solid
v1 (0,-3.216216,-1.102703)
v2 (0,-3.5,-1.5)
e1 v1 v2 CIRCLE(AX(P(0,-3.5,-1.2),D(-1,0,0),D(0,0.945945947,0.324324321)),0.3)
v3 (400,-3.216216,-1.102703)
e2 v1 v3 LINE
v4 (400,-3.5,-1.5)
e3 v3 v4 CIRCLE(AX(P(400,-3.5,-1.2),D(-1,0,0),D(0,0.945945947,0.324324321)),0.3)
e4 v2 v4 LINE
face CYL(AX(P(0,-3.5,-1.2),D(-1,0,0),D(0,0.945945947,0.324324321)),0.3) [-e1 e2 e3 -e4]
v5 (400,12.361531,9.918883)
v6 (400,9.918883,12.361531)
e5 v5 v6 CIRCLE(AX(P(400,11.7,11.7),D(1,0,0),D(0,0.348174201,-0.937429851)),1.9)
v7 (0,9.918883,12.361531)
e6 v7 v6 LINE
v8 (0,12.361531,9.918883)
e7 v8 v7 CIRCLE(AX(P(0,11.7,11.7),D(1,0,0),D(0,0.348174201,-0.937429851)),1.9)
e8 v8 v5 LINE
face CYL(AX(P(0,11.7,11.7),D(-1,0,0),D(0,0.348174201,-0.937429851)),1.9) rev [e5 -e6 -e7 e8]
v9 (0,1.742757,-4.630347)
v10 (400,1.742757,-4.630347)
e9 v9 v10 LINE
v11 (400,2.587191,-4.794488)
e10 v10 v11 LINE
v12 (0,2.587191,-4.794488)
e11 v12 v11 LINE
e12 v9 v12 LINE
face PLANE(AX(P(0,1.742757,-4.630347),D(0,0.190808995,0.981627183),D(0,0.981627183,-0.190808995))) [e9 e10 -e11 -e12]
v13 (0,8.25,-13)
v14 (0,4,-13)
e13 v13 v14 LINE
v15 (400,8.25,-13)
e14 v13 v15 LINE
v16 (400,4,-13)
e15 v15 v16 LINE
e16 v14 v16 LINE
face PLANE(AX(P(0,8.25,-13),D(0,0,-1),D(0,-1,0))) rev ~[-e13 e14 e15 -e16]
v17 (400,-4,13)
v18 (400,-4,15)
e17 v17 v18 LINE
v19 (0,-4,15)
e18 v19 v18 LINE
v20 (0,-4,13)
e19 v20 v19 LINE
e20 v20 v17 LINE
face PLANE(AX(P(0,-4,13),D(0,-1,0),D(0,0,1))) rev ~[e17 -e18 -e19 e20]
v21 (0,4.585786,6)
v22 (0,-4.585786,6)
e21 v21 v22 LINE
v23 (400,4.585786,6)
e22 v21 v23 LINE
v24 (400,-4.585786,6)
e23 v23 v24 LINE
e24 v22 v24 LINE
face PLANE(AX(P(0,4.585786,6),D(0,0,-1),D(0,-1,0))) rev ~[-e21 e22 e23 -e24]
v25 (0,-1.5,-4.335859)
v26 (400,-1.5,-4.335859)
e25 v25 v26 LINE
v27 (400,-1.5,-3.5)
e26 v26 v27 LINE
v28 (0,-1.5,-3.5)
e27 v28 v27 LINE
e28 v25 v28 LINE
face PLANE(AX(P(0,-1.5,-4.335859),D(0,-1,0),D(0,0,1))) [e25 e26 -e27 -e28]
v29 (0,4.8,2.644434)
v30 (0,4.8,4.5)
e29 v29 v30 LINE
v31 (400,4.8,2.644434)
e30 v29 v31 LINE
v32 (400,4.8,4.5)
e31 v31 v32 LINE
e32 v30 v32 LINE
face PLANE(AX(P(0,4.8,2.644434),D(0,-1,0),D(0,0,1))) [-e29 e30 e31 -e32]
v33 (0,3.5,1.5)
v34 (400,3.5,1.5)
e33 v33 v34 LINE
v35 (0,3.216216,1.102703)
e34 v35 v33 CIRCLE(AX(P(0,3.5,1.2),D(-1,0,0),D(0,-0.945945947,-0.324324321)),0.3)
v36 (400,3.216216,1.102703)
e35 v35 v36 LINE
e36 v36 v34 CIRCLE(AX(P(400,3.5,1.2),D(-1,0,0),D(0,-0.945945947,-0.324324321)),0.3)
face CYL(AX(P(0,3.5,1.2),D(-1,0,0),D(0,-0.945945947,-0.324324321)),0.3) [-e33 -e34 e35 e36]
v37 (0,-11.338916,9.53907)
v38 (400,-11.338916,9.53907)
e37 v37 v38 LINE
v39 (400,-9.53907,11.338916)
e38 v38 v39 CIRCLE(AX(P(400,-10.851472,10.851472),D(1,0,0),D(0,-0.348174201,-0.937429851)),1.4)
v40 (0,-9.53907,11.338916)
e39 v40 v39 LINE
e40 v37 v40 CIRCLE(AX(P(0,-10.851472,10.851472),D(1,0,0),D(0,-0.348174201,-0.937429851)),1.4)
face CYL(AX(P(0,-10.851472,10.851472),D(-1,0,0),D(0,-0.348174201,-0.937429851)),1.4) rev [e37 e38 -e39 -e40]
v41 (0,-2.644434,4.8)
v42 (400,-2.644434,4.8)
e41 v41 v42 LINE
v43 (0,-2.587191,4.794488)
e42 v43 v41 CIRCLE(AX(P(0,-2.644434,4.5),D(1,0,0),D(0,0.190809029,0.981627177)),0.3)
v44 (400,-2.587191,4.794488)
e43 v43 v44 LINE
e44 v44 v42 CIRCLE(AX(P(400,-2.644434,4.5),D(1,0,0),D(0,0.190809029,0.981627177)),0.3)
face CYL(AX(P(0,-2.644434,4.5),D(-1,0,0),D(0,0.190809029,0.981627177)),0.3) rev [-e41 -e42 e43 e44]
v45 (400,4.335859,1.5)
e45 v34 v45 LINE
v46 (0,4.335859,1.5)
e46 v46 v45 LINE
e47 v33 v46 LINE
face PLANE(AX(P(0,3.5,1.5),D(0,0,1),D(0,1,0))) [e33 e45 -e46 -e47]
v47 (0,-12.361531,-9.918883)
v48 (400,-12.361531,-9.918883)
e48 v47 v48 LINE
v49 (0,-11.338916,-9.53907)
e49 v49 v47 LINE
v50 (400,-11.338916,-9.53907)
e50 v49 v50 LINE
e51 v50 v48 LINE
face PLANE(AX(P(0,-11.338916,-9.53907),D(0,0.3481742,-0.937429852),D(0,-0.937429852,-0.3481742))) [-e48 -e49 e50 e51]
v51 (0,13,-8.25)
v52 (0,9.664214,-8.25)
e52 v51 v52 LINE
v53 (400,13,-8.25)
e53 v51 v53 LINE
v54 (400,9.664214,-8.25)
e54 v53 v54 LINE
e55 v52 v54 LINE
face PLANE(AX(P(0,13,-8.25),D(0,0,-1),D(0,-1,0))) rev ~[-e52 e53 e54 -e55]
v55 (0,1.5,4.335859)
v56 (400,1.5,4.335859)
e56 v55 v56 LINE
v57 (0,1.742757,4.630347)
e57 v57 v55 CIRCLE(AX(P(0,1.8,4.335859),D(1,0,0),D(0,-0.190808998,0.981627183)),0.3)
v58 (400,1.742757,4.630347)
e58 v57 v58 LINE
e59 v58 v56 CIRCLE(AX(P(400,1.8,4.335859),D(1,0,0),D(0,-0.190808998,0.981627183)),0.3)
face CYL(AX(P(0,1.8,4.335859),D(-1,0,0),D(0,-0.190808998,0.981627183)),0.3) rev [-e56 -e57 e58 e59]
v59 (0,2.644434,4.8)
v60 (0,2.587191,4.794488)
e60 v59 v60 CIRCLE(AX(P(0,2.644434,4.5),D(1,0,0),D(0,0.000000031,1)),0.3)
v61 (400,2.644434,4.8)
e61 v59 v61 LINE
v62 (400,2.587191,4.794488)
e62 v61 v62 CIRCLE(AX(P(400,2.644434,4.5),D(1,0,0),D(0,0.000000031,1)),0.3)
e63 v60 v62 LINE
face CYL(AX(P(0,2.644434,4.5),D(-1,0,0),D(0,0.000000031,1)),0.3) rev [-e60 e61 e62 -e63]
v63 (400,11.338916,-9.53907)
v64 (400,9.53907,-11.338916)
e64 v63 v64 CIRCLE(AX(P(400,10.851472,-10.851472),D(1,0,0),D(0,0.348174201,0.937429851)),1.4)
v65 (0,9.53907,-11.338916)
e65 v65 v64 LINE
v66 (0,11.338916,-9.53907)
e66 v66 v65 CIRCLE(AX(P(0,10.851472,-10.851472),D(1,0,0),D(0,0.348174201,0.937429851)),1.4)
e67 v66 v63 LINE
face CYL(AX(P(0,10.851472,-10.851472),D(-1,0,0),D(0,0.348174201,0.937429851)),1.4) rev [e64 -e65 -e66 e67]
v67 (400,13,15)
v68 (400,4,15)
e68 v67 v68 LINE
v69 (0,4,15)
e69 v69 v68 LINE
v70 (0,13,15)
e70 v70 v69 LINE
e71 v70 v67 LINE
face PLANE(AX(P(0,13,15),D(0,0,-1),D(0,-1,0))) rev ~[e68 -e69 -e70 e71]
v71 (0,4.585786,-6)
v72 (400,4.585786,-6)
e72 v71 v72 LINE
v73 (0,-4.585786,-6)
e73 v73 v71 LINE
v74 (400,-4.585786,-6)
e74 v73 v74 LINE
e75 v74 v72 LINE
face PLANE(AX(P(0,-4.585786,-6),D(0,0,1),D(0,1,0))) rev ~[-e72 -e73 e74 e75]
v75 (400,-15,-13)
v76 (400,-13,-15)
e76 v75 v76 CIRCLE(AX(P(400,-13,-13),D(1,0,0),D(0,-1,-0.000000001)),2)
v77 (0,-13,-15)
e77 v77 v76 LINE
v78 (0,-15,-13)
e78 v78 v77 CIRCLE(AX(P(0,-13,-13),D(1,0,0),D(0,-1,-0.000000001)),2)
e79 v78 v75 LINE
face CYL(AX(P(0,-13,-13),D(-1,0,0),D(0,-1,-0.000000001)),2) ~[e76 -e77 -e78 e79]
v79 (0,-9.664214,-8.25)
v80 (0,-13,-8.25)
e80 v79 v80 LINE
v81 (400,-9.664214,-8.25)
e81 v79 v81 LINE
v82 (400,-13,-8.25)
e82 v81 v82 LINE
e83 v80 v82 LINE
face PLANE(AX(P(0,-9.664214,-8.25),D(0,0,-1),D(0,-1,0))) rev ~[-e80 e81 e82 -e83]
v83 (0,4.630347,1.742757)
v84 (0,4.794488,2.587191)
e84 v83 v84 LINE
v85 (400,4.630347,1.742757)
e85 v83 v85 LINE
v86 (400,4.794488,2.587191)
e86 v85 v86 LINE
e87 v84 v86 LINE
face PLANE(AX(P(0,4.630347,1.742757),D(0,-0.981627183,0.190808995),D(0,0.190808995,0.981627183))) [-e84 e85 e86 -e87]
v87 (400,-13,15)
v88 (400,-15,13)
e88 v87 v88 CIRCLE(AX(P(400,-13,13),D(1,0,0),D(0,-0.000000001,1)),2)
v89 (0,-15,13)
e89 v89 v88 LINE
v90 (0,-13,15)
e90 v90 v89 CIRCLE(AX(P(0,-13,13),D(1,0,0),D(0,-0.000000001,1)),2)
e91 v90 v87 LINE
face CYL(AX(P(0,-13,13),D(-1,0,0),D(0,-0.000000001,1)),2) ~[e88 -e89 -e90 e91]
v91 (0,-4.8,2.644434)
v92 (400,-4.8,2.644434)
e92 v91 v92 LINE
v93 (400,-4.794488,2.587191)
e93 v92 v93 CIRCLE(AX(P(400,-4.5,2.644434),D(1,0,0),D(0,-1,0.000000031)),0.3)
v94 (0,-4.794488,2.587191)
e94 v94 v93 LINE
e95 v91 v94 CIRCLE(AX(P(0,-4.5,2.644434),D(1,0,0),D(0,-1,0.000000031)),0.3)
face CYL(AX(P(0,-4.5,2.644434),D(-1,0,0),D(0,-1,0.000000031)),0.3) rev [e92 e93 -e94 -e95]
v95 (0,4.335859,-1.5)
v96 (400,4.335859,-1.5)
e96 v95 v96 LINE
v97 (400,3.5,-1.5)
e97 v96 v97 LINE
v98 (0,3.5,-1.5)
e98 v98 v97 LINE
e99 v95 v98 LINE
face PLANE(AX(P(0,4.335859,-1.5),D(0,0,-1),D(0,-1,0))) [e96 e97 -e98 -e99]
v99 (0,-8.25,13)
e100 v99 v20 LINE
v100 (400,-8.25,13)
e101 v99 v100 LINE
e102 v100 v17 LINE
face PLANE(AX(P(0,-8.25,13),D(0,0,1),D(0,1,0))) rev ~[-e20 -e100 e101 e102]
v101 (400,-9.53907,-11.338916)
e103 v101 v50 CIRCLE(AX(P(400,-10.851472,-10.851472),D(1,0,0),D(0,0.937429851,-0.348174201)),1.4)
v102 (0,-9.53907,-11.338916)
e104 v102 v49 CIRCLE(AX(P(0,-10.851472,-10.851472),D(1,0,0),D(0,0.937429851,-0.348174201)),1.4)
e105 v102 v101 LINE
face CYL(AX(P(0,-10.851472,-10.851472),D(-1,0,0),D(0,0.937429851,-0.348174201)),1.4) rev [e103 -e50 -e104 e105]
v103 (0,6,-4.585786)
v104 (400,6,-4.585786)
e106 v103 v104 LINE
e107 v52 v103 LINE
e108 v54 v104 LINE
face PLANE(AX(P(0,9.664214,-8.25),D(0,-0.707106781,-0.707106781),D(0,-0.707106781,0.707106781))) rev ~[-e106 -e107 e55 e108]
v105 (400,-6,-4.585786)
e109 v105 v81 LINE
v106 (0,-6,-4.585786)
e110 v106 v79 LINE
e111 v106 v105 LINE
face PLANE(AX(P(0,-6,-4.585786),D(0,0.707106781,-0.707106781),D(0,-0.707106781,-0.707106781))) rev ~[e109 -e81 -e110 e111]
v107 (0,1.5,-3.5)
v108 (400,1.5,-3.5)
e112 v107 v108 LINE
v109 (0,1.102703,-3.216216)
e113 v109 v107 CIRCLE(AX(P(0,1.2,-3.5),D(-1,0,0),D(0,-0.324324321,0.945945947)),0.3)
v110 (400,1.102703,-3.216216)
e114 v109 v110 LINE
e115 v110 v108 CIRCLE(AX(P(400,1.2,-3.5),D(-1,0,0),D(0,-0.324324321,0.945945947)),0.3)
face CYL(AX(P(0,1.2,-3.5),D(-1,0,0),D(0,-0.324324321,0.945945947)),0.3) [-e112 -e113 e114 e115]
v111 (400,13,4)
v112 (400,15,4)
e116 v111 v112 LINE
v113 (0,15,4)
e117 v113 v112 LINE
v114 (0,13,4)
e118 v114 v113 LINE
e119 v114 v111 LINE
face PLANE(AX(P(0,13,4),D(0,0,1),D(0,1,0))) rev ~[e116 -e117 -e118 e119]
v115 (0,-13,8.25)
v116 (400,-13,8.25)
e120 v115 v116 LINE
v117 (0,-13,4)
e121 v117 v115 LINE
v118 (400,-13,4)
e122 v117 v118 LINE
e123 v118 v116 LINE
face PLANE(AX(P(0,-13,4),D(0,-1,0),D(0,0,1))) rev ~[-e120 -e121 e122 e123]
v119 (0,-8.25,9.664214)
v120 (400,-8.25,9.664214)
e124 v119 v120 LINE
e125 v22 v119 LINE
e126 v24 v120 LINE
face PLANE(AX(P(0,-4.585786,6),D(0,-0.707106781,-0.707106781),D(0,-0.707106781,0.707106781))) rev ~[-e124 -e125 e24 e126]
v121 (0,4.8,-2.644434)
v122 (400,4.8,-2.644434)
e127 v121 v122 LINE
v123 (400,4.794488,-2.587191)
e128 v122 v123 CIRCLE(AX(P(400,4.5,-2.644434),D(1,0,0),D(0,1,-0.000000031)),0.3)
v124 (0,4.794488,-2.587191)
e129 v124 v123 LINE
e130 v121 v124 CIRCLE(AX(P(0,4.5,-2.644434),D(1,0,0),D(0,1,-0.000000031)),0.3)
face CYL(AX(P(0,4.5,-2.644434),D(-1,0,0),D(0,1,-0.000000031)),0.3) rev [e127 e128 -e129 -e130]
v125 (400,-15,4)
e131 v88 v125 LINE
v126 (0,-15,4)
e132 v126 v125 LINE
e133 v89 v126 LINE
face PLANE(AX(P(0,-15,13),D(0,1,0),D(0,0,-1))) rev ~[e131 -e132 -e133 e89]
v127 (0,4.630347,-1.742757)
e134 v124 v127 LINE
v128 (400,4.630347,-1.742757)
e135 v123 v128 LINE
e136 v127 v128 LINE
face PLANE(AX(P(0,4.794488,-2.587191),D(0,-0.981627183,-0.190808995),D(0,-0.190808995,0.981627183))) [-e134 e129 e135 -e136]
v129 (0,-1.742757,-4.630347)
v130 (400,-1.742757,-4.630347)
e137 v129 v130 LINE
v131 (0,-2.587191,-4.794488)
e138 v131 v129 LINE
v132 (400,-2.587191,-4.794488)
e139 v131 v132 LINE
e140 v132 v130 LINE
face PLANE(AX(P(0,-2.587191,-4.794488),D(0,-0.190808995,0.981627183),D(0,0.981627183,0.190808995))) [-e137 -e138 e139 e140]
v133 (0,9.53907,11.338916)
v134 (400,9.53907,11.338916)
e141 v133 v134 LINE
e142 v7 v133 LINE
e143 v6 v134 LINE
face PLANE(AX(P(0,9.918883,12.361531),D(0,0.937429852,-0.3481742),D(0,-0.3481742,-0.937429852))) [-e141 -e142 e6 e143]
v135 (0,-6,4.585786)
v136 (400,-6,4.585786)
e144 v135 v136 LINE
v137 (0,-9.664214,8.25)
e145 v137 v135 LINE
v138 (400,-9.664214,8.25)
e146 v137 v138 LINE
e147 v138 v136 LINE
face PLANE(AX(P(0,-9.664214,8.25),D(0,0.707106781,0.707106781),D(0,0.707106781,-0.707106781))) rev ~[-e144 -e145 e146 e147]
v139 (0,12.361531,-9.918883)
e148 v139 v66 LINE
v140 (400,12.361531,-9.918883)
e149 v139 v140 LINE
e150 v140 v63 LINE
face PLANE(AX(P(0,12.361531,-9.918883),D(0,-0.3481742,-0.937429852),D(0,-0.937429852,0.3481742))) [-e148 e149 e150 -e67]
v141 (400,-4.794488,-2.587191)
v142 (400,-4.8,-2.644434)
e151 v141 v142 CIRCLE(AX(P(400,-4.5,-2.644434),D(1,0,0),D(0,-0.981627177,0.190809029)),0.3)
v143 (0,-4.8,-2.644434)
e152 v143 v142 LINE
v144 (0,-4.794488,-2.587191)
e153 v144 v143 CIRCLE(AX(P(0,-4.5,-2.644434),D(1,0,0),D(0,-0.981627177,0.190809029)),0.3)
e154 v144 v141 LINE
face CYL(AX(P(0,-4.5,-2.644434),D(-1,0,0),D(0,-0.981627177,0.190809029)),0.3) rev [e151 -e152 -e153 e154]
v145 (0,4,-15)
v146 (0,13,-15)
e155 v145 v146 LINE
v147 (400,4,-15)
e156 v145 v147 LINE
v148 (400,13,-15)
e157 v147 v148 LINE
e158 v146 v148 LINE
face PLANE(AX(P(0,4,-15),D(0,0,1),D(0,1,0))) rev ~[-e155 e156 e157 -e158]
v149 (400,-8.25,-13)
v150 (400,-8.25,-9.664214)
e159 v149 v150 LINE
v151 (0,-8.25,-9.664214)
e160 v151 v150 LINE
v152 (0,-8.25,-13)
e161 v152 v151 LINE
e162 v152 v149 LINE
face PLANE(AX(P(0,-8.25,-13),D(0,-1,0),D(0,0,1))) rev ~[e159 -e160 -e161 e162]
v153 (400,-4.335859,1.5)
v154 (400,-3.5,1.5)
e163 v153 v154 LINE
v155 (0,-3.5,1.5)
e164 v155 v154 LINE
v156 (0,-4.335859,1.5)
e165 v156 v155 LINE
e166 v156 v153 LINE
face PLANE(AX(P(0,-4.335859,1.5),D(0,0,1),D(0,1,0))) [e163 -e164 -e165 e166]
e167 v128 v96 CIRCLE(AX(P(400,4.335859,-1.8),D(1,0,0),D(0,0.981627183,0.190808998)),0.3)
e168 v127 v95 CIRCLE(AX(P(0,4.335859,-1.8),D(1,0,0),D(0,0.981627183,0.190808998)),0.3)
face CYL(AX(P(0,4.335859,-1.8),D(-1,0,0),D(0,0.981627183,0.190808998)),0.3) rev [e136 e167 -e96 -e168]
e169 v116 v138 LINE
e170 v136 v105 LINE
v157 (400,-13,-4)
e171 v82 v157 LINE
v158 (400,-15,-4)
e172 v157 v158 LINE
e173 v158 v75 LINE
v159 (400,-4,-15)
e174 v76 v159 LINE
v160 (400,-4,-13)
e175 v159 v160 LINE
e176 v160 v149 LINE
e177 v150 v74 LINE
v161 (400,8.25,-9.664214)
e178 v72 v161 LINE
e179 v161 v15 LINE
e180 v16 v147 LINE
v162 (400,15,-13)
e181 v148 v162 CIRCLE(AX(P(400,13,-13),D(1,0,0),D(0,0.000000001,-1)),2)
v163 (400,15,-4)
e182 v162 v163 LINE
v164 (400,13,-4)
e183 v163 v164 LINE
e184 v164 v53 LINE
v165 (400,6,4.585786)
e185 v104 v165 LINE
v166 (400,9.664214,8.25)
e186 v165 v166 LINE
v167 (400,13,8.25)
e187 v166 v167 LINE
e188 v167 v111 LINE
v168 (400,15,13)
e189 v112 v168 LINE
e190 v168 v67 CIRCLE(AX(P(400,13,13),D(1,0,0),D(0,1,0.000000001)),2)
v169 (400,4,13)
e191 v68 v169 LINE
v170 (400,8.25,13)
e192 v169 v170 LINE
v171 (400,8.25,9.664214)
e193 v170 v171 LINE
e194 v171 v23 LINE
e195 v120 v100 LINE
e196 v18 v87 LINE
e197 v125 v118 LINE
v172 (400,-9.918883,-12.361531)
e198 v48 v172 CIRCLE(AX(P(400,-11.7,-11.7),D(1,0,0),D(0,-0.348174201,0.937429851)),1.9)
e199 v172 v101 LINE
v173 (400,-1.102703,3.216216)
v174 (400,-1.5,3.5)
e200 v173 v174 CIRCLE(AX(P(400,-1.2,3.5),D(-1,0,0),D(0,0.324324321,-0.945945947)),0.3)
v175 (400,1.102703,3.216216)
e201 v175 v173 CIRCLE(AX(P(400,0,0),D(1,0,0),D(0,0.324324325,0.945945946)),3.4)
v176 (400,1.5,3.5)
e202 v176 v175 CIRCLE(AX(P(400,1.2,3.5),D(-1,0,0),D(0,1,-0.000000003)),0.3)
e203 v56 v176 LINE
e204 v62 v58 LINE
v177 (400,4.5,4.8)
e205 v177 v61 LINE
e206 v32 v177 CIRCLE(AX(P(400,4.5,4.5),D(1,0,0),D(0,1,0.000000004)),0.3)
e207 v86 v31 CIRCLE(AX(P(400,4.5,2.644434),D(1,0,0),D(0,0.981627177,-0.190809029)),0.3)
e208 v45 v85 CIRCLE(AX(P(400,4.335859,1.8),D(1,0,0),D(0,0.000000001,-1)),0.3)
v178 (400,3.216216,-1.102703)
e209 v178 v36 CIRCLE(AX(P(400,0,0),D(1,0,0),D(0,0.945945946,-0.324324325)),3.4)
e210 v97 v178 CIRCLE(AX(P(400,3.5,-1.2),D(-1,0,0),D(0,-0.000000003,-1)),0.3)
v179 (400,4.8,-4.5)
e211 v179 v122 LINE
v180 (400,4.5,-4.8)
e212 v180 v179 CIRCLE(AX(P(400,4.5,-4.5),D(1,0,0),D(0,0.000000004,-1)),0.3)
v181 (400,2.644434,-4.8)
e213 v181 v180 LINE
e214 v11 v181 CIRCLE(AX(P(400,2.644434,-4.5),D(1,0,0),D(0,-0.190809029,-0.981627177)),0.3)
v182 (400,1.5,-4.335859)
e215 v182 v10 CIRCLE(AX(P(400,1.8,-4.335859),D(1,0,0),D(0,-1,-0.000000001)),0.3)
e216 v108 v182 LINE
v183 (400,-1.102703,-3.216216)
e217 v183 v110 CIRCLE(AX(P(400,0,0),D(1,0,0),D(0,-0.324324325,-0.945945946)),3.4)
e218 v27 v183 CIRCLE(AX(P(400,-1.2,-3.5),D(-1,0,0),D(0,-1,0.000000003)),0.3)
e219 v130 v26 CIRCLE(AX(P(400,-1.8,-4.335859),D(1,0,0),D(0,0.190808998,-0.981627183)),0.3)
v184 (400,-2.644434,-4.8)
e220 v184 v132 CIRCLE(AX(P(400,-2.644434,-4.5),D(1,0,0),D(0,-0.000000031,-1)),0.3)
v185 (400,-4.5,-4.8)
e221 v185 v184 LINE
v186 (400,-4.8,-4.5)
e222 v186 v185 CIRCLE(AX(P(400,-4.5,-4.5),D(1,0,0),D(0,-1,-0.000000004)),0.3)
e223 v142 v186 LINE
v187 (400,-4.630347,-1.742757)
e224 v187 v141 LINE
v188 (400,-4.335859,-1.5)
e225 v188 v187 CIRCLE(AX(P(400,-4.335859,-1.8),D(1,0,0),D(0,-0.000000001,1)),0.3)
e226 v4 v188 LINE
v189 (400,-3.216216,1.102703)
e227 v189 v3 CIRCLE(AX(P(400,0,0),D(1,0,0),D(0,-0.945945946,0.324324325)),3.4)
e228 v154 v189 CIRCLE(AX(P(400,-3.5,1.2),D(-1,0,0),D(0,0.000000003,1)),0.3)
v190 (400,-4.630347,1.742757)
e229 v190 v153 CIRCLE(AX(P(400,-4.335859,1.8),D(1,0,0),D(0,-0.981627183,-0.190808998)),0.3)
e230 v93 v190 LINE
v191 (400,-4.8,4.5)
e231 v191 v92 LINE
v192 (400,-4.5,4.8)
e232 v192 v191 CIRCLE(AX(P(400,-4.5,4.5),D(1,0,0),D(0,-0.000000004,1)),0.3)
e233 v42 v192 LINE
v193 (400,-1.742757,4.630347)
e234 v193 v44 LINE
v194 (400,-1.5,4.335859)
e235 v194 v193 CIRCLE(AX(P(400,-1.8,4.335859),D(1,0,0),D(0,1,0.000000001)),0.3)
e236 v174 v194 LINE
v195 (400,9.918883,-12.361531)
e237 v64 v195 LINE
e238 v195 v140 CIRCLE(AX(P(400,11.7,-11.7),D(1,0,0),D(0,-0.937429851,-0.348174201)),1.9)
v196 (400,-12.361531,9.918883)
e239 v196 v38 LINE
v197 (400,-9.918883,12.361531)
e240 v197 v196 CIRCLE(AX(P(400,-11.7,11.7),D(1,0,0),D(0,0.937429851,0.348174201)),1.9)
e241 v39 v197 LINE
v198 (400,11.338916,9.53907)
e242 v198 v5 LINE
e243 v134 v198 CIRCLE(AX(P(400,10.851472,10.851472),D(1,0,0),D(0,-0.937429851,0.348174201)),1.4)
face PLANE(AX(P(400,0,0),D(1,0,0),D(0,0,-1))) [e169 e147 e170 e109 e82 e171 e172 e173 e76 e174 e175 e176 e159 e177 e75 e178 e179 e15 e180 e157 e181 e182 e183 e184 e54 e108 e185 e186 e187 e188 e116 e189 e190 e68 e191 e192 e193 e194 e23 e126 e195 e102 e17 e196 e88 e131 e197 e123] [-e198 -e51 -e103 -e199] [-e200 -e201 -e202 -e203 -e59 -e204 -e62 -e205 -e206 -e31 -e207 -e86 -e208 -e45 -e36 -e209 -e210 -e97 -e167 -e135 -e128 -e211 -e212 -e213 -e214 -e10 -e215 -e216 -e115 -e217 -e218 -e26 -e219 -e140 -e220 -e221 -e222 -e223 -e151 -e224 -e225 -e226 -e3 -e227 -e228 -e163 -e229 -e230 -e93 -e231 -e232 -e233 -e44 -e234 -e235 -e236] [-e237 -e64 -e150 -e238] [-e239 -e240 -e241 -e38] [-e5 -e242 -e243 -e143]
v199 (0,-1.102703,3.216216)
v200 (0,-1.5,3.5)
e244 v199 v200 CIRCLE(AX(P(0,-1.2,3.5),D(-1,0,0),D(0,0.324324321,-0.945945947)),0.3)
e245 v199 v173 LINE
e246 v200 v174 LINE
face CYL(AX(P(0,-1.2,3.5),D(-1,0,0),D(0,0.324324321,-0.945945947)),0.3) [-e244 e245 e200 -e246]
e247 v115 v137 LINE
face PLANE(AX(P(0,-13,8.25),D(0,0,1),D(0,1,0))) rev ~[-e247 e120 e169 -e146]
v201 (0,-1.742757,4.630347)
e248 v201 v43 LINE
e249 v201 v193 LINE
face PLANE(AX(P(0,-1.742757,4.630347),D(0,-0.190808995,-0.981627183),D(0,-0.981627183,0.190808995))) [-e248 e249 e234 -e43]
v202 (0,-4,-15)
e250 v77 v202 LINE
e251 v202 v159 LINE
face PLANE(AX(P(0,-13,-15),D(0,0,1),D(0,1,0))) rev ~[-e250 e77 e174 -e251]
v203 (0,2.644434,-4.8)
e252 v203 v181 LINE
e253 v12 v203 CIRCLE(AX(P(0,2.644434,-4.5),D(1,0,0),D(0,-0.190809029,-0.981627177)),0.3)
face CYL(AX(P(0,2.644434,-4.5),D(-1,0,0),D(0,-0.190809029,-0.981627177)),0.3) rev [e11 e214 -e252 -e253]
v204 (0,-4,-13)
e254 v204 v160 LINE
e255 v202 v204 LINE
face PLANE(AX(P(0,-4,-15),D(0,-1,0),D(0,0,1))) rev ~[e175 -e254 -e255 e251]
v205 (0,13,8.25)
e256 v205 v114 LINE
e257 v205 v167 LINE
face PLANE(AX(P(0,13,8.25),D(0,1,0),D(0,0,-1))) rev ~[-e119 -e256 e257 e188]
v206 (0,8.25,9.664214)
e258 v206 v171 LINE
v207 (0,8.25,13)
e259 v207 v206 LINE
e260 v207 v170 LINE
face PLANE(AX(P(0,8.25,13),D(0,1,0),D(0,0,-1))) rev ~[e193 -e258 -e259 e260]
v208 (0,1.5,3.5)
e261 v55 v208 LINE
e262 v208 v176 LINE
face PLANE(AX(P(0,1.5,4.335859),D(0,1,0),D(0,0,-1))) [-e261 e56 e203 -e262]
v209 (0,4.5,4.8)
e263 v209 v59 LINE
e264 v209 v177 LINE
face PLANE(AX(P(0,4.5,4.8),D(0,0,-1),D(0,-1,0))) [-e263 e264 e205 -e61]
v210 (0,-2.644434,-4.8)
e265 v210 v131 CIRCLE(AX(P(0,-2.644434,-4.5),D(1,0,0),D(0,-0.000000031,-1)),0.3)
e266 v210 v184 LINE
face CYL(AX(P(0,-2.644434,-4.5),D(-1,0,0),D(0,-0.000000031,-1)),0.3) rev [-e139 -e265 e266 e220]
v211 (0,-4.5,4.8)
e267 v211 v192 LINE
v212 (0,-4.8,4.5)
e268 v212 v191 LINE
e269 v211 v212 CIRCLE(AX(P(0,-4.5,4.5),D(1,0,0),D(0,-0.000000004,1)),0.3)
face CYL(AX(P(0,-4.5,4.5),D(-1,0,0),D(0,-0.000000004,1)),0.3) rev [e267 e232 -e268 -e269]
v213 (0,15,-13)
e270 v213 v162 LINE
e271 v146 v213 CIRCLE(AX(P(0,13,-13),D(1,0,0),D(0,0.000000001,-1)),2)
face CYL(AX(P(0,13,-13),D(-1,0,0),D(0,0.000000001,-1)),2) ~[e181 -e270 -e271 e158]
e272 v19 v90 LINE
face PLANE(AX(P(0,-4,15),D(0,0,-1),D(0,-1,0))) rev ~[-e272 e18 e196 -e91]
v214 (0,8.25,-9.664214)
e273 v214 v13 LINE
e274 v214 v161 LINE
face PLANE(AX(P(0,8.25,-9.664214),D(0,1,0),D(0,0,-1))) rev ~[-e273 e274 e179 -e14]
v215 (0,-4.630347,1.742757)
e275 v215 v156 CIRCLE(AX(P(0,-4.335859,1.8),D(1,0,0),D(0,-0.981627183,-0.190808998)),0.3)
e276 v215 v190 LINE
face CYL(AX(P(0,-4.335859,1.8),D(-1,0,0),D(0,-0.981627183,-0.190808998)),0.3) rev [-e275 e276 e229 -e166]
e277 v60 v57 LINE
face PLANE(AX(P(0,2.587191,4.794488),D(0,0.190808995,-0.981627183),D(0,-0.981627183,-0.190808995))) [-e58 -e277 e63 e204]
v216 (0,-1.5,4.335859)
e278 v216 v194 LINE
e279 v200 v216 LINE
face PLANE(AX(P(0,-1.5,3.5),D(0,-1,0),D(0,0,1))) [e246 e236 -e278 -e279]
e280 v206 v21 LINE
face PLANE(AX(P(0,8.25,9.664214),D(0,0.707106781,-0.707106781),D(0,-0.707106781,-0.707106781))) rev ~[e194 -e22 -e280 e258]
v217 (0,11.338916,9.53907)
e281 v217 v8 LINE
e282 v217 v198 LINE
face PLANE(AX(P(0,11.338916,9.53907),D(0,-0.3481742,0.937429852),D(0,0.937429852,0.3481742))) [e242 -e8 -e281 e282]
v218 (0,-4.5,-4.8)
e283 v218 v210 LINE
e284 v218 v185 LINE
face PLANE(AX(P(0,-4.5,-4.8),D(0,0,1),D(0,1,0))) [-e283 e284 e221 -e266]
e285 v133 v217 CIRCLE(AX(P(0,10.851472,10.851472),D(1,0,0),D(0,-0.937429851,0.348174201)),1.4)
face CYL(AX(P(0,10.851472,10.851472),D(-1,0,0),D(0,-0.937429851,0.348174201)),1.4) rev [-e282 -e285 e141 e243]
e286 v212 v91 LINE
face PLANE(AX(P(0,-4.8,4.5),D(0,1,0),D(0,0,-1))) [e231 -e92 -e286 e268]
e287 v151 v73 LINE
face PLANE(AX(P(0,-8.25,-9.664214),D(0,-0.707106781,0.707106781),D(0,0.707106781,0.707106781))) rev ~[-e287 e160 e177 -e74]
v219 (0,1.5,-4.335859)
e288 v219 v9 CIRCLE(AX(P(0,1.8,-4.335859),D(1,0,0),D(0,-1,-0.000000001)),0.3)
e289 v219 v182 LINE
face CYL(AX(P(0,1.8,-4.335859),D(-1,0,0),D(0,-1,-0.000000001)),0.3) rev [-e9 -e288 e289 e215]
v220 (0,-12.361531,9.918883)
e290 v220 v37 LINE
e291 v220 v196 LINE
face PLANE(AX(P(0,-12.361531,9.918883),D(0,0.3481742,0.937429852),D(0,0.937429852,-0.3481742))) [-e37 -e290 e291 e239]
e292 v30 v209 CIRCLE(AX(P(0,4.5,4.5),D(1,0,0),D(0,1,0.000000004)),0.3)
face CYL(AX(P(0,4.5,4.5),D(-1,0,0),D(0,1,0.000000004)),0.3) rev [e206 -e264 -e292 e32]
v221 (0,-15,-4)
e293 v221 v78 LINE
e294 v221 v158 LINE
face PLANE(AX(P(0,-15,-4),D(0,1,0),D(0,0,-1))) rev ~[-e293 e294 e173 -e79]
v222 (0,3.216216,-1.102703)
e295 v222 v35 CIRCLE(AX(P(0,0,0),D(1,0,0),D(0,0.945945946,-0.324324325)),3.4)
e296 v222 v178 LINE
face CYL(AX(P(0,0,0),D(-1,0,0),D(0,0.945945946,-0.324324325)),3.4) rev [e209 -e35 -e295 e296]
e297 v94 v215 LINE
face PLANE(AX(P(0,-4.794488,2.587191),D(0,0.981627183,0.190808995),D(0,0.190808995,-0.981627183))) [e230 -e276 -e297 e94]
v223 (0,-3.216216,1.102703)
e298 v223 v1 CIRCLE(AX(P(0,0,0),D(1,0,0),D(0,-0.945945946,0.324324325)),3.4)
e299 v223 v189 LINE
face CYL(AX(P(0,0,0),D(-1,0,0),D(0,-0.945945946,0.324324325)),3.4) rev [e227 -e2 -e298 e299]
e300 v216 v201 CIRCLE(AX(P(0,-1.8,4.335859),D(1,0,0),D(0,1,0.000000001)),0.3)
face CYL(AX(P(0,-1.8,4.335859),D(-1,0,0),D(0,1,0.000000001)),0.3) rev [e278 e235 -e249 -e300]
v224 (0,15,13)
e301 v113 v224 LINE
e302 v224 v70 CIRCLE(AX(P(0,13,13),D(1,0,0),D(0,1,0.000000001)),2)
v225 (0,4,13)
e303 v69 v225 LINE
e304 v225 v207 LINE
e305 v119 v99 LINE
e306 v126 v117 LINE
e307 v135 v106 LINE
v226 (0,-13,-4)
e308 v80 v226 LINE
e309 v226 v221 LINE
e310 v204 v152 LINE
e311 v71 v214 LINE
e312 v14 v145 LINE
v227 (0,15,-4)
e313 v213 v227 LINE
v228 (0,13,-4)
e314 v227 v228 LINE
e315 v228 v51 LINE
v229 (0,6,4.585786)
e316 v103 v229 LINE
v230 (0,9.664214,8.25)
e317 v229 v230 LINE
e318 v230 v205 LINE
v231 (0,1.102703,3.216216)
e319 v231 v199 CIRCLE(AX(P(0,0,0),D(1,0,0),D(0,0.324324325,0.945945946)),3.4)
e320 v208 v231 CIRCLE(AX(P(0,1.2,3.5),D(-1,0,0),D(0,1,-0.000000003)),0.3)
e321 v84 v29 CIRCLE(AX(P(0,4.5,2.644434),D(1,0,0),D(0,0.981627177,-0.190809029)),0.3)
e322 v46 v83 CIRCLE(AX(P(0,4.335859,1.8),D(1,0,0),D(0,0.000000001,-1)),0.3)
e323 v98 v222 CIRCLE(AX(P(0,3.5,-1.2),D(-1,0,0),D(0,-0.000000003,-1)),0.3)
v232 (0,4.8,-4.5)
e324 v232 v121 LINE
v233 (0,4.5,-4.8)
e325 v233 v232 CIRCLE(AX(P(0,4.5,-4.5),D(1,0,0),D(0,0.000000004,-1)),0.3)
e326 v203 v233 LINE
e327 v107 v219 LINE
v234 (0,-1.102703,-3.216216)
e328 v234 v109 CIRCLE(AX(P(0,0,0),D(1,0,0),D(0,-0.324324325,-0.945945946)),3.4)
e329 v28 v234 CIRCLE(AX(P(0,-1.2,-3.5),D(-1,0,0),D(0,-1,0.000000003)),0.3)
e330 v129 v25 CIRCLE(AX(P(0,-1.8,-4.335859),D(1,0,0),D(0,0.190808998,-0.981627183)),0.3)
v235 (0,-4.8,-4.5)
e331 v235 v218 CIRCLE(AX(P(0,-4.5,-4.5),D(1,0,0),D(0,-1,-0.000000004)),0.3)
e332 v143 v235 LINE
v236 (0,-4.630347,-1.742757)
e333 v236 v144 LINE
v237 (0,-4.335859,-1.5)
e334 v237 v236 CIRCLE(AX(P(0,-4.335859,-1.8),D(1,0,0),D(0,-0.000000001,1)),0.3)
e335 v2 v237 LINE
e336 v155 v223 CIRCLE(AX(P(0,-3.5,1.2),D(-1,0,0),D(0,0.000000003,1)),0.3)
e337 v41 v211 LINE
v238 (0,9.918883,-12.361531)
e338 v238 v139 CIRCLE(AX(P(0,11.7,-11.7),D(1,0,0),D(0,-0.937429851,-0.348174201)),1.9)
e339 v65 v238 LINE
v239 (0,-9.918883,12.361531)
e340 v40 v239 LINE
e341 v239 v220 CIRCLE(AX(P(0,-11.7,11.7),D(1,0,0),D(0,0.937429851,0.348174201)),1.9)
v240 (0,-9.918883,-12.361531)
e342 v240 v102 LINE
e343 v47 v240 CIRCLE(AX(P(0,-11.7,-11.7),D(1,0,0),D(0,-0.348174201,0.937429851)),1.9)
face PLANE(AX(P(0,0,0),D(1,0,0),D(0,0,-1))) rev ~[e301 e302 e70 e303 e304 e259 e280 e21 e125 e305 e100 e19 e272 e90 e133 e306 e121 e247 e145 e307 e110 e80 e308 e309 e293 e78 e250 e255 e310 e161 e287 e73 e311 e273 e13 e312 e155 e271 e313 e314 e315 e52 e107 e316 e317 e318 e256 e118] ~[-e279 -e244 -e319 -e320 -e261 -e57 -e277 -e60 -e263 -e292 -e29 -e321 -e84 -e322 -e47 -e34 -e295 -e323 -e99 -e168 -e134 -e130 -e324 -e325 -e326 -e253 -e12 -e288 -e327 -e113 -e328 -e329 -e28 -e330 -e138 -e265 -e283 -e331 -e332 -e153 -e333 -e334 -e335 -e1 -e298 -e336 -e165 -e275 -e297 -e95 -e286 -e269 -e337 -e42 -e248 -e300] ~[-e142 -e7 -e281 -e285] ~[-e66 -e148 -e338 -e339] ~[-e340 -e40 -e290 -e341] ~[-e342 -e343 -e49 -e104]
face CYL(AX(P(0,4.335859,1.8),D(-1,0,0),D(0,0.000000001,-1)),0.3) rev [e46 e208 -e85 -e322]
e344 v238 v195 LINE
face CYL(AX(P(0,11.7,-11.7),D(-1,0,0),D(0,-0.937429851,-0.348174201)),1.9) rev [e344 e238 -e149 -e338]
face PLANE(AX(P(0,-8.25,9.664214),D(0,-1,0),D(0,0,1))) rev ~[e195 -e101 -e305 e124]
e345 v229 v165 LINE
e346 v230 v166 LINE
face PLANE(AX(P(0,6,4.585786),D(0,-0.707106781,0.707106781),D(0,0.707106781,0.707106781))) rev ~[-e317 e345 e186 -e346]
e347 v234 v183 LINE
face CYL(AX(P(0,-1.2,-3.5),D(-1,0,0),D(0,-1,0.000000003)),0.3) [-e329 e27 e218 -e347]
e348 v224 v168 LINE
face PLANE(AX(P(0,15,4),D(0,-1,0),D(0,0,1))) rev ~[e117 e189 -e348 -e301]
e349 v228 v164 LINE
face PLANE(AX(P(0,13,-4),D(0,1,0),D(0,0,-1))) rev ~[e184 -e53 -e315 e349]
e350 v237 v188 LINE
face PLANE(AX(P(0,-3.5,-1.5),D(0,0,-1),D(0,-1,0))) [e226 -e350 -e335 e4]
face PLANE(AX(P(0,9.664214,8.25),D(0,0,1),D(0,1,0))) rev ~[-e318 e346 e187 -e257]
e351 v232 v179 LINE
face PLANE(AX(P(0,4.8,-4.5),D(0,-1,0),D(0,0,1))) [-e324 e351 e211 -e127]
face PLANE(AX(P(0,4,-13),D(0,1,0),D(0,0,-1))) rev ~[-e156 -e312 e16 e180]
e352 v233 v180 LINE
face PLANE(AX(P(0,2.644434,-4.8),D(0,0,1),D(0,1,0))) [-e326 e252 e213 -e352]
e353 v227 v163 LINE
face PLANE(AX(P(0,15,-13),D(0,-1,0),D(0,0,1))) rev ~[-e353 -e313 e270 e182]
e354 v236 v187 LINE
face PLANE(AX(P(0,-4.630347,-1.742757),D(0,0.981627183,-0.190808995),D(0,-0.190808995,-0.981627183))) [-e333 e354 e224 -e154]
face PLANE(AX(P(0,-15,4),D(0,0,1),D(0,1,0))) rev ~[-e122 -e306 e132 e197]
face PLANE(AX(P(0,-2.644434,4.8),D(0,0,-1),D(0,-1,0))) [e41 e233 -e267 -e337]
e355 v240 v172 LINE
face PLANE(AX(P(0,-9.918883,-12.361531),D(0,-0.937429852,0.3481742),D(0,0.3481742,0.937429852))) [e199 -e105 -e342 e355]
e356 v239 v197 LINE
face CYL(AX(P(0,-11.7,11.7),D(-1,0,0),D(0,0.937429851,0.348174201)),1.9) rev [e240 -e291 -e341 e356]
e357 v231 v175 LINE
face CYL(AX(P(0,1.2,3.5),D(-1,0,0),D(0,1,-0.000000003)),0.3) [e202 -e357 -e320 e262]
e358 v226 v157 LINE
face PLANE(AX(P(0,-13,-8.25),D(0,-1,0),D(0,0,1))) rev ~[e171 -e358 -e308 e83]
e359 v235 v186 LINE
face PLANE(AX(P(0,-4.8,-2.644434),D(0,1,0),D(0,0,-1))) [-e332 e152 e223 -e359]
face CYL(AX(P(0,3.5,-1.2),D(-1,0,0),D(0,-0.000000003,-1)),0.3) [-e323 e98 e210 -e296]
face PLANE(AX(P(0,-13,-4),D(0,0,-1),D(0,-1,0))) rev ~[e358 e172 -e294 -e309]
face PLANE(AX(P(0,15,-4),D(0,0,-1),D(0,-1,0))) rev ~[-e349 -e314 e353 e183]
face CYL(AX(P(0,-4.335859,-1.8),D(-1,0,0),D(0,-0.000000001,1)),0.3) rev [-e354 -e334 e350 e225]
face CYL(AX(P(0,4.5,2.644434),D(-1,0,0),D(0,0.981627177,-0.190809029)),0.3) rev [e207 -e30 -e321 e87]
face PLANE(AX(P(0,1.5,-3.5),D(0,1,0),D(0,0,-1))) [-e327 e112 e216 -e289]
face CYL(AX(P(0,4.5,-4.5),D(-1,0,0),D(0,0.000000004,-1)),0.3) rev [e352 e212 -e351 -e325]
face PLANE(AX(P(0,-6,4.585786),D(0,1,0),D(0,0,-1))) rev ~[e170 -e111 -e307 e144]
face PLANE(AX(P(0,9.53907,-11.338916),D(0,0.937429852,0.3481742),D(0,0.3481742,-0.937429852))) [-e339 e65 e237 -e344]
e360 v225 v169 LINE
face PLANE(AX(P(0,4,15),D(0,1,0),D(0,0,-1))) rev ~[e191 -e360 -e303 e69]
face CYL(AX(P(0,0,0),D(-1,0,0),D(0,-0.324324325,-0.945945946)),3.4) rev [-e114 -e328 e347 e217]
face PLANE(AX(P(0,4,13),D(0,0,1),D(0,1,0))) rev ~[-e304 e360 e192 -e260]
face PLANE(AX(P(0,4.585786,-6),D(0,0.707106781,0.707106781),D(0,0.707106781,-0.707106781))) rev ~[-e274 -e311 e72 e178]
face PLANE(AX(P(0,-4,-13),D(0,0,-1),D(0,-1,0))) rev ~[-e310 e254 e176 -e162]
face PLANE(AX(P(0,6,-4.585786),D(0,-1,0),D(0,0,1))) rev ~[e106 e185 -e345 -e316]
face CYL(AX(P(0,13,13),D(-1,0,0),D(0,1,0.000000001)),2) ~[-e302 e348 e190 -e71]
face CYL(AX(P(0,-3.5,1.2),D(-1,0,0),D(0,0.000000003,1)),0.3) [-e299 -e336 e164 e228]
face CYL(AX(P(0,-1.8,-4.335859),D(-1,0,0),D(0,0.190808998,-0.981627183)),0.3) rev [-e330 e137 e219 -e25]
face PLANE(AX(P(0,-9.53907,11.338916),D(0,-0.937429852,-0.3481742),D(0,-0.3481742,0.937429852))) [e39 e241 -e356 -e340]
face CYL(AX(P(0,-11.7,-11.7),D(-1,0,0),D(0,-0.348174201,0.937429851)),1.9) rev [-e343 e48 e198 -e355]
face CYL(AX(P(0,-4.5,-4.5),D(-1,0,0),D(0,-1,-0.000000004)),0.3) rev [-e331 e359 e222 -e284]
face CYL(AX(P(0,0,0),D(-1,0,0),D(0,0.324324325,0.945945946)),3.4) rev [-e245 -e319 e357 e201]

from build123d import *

# Parameters (mm, degrees)
BOSS_EXTRUDE1_DEPTH = 400


with BuildPart() as part:
    # Sketch1 → Boss-Extrude1 (new body)
    with BuildSketch(Plane(origin=(0, 0, 0), x_dir=(0, 0, -1), z_dir=(1, 0, 0))):
        with BuildLine():
            Line((-15, 13), (-15, 4))
            Line((-15, 4), (-13, 4))
            Line((-13, 4), (-13, 8.25))
            Line((-13, 8.25), (-9.664213562, 8.25))
            Line((-9.664213562, 8.25), (-6, 4.585786438))
            Line((-6, 4.585786438), (-6, -4.585786438))
            Line((-6, -4.585786438), (-9.664213562, -8.25))
            Line((-9.664213562, -8.25), (-13, -8.25))
            Line((-13, -8.25), (-13, -4))
            Line((-13, -4), (-15, -4))
            Line((-15, -4), (-15, -13))
            ThreePointArc((-15, -13), (-14.414213562, -14.414213562), (-13, -15))
            Line((-13, -15), (-4, -15))
            Line((-4, -15), (-4, -13))
            Line((-4, -13), (-8.25, -13))
            Line((-8.25, -13), (-8.25, -9.664213562))
            Line((-8.25, -9.664213562), (-4.585786438, -6))
            Line((-4.585786438, -6), (4.585786438, -6))
            Line((4.585786438, -6), (8.25, -9.664213562))
            Line((8.25, -9.664213562), (8.25, -13))
            Line((8.25, -13), (4, -13))
            Line((4, -13), (4, -15))
            Line((4, -15), (13, -15))
            ThreePointArc((13, -15), (14.414213562, -14.414213562), (15, -13))
            Line((15, -13), (15, -4))
            Line((15, -4), (13, -4))
            Line((13, -4), (13, -8.25))
            Line((13, -8.25), (9.664213562, -8.25))
            Line((9.664213562, -8.25), (6, -4.585786438))
            Line((6, -4.585786438), (6, 4.585786438))
            Line((6, 4.585786438), (9.664213562, 8.25))
            Line((9.664213562, 8.25), (13, 8.25))
            Line((13, 8.25), (13, 4))
            Line((13, 4), (15, 4))
            Line((15, 4), (15, 13))
            ThreePointArc((15, 13), (14.414213562, 14.414213562), (13, 15))
            Line((13, 15), (4, 15))
            Line((4, 15), (4, 13))
            Line((4, 13), (8.25, 13))
            Line((8.25, 13), (8.25, 9.664213562))
            Line((8.25, 9.664213562), (4.585786438, 6))
            Line((4.585786438, 6), (-4.585786438, 6))
            Line((-4.585786438, 6), (-8.25, 9.664213562))
            Line((-8.25, 9.664213562), (-8.25, 13))
            Line((-8.25, 13), (-4, 13))
            Line((-4, 13), (-4, 15))
            Line((-4, 15), (-13, 15))
            ThreePointArc((-13, 15), (-14.414213562, 14.414213562), (-15, 13))
        make_face()
        with BuildLine():
            Line((-9.539070071, 11.338915743), (-9.918883282, 12.361530981))
            ThreePointArc((-9.918883282, 12.361530981), (-13.043502884, 13.043502884), (-12.361530981, 9.918883282))
            Line((-12.361530981, 9.918883282), (-11.338915743, 9.539070071))
            ThreePointArc((-11.338915743, 9.539070071), (-9.861522369, 9.861522369), (-9.539070071, 11.338915743))
        make_face(mode=Mode.SUBTRACT)
        with BuildLine():
            Line((9.918883282, 12.361530981), (9.539070071, 11.338915743))
            ThreePointArc((9.539070071, 11.338915743), (9.861522369, 9.861522369), (11.338915743, 9.539070071))
            Line((11.338915743, 9.539070071), (12.361530981, 9.918883282))
            ThreePointArc((12.361530981, 9.918883282), (13.043502884, 13.043502884), (9.918883282, 12.361530981))
        make_face(mode=Mode.SUBTRACT)
        with BuildLine():
            Line((12.361530981, -9.918883282), (11.338915743, -9.539070071))
            ThreePointArc((11.338915743, -9.539070071), (9.861522369, -9.861522369), (9.539070071, -11.338915743))
            Line((9.539070071, -11.338915743), (9.918883282, -12.361530981))
            ThreePointArc((9.918883282, -12.361530981), (13.043502884, -13.043502884), (12.361530981, -9.918883282))
        make_face(mode=Mode.SUBTRACT)
        with BuildLine():
            Line((-11.338915743, -9.539070071), (-12.361530981, -9.918883282))
            ThreePointArc((-12.361530981, -9.918883282), (-13.043502884, -13.043502884), (-9.918883282, -12.361530981))
            Line((-9.918883282, -12.361530981), (-9.539070071, -11.338915743))
            ThreePointArc((-9.539070071, -11.338915743), (-9.861522369, -9.861522369), (-11.338915743, -9.539070071))
        make_face(mode=Mode.SUBTRACT)
        with BuildLine():
            Line((-4.8, -2.644433572), (-4.8, -4.5))
            ThreePointArc((-4.8, -4.5), (-4.712132034, -4.712132034), (-4.5, -4.8))
            Line((-4.5, -4.8), (-2.644433572, -4.8))
            ThreePointArc((-2.644433572, -4.8), (-2.615679847, -4.79861886), (-2.587190874, -4.794488155))
            Line((-2.587190874, -4.794488155), (-1.742757301, -4.630346896))
            ThreePointArc((-1.742757301, -4.630346896), (-1.568512625, -4.526682207), (-1.5, -4.335858741))
            Line((-1.5, -4.335858741), (-1.5, -3.5))
            ThreePointArc((-1.5, -3.5), (-1.374371458, -3.255879959), (-1.102702703, -3.216216216))
            ThreePointArc((-1.102702703, -3.216216216), (0, -3.4), (1.102702703, -3.216216216))
            ThreePointArc((1.102702703, -3.216216216), (1.374371458, -3.255879959), (1.5, -3.5))
            Line((1.5, -3.5), (1.5, -4.335858741))
            ThreePointArc((1.5, -4.335858741), (1.568512625, -4.526682207), (1.742757301, -4.630346896))
            Line((1.742757301, -4.630346896), (2.587190874, -4.794488155))
            ThreePointArc((2.587190874, -4.794488155), (2.615679847, -4.79861886), (2.644433572, -4.8))
            Line((2.644433572, -4.8), (4.5, -4.8))
            ThreePointArc((4.5, -4.8), (4.712132034, -4.712132034), (4.8, -4.5))
            Line((4.8, -4.5), (4.8, -2.644433572))
            ThreePointArc((4.8, -2.644433572), (4.79861886, -2.615679847), (4.794488155, -2.587190874))
            Line((4.794488155, -2.587190874), (4.630346896, -1.742757301))
            ThreePointArc((4.630346896, -1.742757301), (4.526682207, -1.568512625), (4.335858741, -1.5))
            Line((4.335858741, -1.5), (3.5, -1.5))
            ThreePointArc((3.5, -1.5), (3.255879959, -1.374371458), (3.216216216, -1.102702703))
            ThreePointArc((3.216216216, -1.102702703), (3.4, 0), (3.216216216, 1.102702703))
            ThreePointArc((3.216216216, 1.102702703), (3.255879959, 1.374371458), (3.5, 1.5))
            Line((3.5, 1.5), (4.335858741, 1.5))
            ThreePointArc((4.335858741, 1.5), (4.526682207, 1.568512625), (4.630346896, 1.742757301))
            Line((4.630346896, 1.742757301), (4.794488155, 2.587190874))
            ThreePointArc((4.794488155, 2.587190874), (4.79861886, 2.615679847), (4.8, 2.644433572))
            Line((4.8, 2.644433572), (4.8, 4.5))
            ThreePointArc((4.8, 4.5), (4.712132034, 4.712132034), (4.5, 4.8))
            Line((4.5, 4.8), (2.644433572, 4.8))
            ThreePointArc((2.644433572, 4.8), (2.615679847, 4.79861886), (2.587190874, 4.794488155))
            Line((2.587190874, 4.794488155), (1.742757301, 4.630346896))
            ThreePointArc((1.742757301, 4.630346896), (1.568512625, 4.526682207), (1.5, 4.335858741))
            Line((1.5, 4.335858741), (1.5, 3.5))
            ThreePointArc((1.5, 3.5), (1.374371458, 3.255879959), (1.102702703, 3.216216216))
            ThreePointArc((1.102702703, 3.216216216), (0, 3.4), (-1.102702703, 3.216216216))
            ThreePointArc((-1.102702703, 3.216216216), (-1.374371458, 3.255879959), (-1.5, 3.5))
            Line((-1.5, 3.5), (-1.5, 4.335858741))
            ThreePointArc((-1.5, 4.335858741), (-1.568512625, 4.526682207), (-1.742757301, 4.630346896))
            Line((-1.742757301, 4.630346896), (-2.587190874, 4.794488155))
            ThreePointArc((-2.587190874, 4.794488155), (-2.615679847, 4.79861886), (-2.644433572, 4.8))
            Line((-2.644433572, 4.8), (-4.5, 4.8))
            ThreePointArc((-4.5, 4.8), (-4.712132034, 4.712132034), (-4.8, 4.5))
            Line((-4.8, 4.5), (-4.8, 2.644433572))
            ThreePointArc((-4.8, 2.644433572), (-4.79861886, 2.615679847), (-4.794488155, 2.587190874))
            Line((-4.794488155, 2.587190874), (-4.630346896, 1.742757301))
            ThreePointArc((-4.630346896, 1.742757301), (-4.526682207, 1.568512625), (-4.335858741, 1.5))
            Line((-4.335858741, 1.5), (-3.5, 1.5))
            ThreePointArc((-3.5, 1.5), (-3.255879959, 1.374371458), (-3.216216216, 1.102702703))
            ThreePointArc((-3.216216216, 1.102702703), (-3.4, 0), (-3.216216216, -1.102702703))
            ThreePointArc((-3.216216216, -1.102702703), (-3.255879959, -1.374371458), (-3.5, -1.5))
            Line((-3.5, -1.5), (-4.335858741, -1.5))
            ThreePointArc((-4.335858741, -1.5), (-4.526682207, -1.568512625), (-4.630346896, -1.742757301))
            Line((-4.630346896, -1.742757301), (-4.794488155, -2.587190874))
            ThreePointArc((-4.794488155, -2.587190874), (-4.79861886, -2.615679847), (-4.8, -2.644433572))
        make_face(mode=Mode.SUBTRACT)
    extrude(amount=BOSS_EXTRUDE1_DEPTH)


solid = part.part
